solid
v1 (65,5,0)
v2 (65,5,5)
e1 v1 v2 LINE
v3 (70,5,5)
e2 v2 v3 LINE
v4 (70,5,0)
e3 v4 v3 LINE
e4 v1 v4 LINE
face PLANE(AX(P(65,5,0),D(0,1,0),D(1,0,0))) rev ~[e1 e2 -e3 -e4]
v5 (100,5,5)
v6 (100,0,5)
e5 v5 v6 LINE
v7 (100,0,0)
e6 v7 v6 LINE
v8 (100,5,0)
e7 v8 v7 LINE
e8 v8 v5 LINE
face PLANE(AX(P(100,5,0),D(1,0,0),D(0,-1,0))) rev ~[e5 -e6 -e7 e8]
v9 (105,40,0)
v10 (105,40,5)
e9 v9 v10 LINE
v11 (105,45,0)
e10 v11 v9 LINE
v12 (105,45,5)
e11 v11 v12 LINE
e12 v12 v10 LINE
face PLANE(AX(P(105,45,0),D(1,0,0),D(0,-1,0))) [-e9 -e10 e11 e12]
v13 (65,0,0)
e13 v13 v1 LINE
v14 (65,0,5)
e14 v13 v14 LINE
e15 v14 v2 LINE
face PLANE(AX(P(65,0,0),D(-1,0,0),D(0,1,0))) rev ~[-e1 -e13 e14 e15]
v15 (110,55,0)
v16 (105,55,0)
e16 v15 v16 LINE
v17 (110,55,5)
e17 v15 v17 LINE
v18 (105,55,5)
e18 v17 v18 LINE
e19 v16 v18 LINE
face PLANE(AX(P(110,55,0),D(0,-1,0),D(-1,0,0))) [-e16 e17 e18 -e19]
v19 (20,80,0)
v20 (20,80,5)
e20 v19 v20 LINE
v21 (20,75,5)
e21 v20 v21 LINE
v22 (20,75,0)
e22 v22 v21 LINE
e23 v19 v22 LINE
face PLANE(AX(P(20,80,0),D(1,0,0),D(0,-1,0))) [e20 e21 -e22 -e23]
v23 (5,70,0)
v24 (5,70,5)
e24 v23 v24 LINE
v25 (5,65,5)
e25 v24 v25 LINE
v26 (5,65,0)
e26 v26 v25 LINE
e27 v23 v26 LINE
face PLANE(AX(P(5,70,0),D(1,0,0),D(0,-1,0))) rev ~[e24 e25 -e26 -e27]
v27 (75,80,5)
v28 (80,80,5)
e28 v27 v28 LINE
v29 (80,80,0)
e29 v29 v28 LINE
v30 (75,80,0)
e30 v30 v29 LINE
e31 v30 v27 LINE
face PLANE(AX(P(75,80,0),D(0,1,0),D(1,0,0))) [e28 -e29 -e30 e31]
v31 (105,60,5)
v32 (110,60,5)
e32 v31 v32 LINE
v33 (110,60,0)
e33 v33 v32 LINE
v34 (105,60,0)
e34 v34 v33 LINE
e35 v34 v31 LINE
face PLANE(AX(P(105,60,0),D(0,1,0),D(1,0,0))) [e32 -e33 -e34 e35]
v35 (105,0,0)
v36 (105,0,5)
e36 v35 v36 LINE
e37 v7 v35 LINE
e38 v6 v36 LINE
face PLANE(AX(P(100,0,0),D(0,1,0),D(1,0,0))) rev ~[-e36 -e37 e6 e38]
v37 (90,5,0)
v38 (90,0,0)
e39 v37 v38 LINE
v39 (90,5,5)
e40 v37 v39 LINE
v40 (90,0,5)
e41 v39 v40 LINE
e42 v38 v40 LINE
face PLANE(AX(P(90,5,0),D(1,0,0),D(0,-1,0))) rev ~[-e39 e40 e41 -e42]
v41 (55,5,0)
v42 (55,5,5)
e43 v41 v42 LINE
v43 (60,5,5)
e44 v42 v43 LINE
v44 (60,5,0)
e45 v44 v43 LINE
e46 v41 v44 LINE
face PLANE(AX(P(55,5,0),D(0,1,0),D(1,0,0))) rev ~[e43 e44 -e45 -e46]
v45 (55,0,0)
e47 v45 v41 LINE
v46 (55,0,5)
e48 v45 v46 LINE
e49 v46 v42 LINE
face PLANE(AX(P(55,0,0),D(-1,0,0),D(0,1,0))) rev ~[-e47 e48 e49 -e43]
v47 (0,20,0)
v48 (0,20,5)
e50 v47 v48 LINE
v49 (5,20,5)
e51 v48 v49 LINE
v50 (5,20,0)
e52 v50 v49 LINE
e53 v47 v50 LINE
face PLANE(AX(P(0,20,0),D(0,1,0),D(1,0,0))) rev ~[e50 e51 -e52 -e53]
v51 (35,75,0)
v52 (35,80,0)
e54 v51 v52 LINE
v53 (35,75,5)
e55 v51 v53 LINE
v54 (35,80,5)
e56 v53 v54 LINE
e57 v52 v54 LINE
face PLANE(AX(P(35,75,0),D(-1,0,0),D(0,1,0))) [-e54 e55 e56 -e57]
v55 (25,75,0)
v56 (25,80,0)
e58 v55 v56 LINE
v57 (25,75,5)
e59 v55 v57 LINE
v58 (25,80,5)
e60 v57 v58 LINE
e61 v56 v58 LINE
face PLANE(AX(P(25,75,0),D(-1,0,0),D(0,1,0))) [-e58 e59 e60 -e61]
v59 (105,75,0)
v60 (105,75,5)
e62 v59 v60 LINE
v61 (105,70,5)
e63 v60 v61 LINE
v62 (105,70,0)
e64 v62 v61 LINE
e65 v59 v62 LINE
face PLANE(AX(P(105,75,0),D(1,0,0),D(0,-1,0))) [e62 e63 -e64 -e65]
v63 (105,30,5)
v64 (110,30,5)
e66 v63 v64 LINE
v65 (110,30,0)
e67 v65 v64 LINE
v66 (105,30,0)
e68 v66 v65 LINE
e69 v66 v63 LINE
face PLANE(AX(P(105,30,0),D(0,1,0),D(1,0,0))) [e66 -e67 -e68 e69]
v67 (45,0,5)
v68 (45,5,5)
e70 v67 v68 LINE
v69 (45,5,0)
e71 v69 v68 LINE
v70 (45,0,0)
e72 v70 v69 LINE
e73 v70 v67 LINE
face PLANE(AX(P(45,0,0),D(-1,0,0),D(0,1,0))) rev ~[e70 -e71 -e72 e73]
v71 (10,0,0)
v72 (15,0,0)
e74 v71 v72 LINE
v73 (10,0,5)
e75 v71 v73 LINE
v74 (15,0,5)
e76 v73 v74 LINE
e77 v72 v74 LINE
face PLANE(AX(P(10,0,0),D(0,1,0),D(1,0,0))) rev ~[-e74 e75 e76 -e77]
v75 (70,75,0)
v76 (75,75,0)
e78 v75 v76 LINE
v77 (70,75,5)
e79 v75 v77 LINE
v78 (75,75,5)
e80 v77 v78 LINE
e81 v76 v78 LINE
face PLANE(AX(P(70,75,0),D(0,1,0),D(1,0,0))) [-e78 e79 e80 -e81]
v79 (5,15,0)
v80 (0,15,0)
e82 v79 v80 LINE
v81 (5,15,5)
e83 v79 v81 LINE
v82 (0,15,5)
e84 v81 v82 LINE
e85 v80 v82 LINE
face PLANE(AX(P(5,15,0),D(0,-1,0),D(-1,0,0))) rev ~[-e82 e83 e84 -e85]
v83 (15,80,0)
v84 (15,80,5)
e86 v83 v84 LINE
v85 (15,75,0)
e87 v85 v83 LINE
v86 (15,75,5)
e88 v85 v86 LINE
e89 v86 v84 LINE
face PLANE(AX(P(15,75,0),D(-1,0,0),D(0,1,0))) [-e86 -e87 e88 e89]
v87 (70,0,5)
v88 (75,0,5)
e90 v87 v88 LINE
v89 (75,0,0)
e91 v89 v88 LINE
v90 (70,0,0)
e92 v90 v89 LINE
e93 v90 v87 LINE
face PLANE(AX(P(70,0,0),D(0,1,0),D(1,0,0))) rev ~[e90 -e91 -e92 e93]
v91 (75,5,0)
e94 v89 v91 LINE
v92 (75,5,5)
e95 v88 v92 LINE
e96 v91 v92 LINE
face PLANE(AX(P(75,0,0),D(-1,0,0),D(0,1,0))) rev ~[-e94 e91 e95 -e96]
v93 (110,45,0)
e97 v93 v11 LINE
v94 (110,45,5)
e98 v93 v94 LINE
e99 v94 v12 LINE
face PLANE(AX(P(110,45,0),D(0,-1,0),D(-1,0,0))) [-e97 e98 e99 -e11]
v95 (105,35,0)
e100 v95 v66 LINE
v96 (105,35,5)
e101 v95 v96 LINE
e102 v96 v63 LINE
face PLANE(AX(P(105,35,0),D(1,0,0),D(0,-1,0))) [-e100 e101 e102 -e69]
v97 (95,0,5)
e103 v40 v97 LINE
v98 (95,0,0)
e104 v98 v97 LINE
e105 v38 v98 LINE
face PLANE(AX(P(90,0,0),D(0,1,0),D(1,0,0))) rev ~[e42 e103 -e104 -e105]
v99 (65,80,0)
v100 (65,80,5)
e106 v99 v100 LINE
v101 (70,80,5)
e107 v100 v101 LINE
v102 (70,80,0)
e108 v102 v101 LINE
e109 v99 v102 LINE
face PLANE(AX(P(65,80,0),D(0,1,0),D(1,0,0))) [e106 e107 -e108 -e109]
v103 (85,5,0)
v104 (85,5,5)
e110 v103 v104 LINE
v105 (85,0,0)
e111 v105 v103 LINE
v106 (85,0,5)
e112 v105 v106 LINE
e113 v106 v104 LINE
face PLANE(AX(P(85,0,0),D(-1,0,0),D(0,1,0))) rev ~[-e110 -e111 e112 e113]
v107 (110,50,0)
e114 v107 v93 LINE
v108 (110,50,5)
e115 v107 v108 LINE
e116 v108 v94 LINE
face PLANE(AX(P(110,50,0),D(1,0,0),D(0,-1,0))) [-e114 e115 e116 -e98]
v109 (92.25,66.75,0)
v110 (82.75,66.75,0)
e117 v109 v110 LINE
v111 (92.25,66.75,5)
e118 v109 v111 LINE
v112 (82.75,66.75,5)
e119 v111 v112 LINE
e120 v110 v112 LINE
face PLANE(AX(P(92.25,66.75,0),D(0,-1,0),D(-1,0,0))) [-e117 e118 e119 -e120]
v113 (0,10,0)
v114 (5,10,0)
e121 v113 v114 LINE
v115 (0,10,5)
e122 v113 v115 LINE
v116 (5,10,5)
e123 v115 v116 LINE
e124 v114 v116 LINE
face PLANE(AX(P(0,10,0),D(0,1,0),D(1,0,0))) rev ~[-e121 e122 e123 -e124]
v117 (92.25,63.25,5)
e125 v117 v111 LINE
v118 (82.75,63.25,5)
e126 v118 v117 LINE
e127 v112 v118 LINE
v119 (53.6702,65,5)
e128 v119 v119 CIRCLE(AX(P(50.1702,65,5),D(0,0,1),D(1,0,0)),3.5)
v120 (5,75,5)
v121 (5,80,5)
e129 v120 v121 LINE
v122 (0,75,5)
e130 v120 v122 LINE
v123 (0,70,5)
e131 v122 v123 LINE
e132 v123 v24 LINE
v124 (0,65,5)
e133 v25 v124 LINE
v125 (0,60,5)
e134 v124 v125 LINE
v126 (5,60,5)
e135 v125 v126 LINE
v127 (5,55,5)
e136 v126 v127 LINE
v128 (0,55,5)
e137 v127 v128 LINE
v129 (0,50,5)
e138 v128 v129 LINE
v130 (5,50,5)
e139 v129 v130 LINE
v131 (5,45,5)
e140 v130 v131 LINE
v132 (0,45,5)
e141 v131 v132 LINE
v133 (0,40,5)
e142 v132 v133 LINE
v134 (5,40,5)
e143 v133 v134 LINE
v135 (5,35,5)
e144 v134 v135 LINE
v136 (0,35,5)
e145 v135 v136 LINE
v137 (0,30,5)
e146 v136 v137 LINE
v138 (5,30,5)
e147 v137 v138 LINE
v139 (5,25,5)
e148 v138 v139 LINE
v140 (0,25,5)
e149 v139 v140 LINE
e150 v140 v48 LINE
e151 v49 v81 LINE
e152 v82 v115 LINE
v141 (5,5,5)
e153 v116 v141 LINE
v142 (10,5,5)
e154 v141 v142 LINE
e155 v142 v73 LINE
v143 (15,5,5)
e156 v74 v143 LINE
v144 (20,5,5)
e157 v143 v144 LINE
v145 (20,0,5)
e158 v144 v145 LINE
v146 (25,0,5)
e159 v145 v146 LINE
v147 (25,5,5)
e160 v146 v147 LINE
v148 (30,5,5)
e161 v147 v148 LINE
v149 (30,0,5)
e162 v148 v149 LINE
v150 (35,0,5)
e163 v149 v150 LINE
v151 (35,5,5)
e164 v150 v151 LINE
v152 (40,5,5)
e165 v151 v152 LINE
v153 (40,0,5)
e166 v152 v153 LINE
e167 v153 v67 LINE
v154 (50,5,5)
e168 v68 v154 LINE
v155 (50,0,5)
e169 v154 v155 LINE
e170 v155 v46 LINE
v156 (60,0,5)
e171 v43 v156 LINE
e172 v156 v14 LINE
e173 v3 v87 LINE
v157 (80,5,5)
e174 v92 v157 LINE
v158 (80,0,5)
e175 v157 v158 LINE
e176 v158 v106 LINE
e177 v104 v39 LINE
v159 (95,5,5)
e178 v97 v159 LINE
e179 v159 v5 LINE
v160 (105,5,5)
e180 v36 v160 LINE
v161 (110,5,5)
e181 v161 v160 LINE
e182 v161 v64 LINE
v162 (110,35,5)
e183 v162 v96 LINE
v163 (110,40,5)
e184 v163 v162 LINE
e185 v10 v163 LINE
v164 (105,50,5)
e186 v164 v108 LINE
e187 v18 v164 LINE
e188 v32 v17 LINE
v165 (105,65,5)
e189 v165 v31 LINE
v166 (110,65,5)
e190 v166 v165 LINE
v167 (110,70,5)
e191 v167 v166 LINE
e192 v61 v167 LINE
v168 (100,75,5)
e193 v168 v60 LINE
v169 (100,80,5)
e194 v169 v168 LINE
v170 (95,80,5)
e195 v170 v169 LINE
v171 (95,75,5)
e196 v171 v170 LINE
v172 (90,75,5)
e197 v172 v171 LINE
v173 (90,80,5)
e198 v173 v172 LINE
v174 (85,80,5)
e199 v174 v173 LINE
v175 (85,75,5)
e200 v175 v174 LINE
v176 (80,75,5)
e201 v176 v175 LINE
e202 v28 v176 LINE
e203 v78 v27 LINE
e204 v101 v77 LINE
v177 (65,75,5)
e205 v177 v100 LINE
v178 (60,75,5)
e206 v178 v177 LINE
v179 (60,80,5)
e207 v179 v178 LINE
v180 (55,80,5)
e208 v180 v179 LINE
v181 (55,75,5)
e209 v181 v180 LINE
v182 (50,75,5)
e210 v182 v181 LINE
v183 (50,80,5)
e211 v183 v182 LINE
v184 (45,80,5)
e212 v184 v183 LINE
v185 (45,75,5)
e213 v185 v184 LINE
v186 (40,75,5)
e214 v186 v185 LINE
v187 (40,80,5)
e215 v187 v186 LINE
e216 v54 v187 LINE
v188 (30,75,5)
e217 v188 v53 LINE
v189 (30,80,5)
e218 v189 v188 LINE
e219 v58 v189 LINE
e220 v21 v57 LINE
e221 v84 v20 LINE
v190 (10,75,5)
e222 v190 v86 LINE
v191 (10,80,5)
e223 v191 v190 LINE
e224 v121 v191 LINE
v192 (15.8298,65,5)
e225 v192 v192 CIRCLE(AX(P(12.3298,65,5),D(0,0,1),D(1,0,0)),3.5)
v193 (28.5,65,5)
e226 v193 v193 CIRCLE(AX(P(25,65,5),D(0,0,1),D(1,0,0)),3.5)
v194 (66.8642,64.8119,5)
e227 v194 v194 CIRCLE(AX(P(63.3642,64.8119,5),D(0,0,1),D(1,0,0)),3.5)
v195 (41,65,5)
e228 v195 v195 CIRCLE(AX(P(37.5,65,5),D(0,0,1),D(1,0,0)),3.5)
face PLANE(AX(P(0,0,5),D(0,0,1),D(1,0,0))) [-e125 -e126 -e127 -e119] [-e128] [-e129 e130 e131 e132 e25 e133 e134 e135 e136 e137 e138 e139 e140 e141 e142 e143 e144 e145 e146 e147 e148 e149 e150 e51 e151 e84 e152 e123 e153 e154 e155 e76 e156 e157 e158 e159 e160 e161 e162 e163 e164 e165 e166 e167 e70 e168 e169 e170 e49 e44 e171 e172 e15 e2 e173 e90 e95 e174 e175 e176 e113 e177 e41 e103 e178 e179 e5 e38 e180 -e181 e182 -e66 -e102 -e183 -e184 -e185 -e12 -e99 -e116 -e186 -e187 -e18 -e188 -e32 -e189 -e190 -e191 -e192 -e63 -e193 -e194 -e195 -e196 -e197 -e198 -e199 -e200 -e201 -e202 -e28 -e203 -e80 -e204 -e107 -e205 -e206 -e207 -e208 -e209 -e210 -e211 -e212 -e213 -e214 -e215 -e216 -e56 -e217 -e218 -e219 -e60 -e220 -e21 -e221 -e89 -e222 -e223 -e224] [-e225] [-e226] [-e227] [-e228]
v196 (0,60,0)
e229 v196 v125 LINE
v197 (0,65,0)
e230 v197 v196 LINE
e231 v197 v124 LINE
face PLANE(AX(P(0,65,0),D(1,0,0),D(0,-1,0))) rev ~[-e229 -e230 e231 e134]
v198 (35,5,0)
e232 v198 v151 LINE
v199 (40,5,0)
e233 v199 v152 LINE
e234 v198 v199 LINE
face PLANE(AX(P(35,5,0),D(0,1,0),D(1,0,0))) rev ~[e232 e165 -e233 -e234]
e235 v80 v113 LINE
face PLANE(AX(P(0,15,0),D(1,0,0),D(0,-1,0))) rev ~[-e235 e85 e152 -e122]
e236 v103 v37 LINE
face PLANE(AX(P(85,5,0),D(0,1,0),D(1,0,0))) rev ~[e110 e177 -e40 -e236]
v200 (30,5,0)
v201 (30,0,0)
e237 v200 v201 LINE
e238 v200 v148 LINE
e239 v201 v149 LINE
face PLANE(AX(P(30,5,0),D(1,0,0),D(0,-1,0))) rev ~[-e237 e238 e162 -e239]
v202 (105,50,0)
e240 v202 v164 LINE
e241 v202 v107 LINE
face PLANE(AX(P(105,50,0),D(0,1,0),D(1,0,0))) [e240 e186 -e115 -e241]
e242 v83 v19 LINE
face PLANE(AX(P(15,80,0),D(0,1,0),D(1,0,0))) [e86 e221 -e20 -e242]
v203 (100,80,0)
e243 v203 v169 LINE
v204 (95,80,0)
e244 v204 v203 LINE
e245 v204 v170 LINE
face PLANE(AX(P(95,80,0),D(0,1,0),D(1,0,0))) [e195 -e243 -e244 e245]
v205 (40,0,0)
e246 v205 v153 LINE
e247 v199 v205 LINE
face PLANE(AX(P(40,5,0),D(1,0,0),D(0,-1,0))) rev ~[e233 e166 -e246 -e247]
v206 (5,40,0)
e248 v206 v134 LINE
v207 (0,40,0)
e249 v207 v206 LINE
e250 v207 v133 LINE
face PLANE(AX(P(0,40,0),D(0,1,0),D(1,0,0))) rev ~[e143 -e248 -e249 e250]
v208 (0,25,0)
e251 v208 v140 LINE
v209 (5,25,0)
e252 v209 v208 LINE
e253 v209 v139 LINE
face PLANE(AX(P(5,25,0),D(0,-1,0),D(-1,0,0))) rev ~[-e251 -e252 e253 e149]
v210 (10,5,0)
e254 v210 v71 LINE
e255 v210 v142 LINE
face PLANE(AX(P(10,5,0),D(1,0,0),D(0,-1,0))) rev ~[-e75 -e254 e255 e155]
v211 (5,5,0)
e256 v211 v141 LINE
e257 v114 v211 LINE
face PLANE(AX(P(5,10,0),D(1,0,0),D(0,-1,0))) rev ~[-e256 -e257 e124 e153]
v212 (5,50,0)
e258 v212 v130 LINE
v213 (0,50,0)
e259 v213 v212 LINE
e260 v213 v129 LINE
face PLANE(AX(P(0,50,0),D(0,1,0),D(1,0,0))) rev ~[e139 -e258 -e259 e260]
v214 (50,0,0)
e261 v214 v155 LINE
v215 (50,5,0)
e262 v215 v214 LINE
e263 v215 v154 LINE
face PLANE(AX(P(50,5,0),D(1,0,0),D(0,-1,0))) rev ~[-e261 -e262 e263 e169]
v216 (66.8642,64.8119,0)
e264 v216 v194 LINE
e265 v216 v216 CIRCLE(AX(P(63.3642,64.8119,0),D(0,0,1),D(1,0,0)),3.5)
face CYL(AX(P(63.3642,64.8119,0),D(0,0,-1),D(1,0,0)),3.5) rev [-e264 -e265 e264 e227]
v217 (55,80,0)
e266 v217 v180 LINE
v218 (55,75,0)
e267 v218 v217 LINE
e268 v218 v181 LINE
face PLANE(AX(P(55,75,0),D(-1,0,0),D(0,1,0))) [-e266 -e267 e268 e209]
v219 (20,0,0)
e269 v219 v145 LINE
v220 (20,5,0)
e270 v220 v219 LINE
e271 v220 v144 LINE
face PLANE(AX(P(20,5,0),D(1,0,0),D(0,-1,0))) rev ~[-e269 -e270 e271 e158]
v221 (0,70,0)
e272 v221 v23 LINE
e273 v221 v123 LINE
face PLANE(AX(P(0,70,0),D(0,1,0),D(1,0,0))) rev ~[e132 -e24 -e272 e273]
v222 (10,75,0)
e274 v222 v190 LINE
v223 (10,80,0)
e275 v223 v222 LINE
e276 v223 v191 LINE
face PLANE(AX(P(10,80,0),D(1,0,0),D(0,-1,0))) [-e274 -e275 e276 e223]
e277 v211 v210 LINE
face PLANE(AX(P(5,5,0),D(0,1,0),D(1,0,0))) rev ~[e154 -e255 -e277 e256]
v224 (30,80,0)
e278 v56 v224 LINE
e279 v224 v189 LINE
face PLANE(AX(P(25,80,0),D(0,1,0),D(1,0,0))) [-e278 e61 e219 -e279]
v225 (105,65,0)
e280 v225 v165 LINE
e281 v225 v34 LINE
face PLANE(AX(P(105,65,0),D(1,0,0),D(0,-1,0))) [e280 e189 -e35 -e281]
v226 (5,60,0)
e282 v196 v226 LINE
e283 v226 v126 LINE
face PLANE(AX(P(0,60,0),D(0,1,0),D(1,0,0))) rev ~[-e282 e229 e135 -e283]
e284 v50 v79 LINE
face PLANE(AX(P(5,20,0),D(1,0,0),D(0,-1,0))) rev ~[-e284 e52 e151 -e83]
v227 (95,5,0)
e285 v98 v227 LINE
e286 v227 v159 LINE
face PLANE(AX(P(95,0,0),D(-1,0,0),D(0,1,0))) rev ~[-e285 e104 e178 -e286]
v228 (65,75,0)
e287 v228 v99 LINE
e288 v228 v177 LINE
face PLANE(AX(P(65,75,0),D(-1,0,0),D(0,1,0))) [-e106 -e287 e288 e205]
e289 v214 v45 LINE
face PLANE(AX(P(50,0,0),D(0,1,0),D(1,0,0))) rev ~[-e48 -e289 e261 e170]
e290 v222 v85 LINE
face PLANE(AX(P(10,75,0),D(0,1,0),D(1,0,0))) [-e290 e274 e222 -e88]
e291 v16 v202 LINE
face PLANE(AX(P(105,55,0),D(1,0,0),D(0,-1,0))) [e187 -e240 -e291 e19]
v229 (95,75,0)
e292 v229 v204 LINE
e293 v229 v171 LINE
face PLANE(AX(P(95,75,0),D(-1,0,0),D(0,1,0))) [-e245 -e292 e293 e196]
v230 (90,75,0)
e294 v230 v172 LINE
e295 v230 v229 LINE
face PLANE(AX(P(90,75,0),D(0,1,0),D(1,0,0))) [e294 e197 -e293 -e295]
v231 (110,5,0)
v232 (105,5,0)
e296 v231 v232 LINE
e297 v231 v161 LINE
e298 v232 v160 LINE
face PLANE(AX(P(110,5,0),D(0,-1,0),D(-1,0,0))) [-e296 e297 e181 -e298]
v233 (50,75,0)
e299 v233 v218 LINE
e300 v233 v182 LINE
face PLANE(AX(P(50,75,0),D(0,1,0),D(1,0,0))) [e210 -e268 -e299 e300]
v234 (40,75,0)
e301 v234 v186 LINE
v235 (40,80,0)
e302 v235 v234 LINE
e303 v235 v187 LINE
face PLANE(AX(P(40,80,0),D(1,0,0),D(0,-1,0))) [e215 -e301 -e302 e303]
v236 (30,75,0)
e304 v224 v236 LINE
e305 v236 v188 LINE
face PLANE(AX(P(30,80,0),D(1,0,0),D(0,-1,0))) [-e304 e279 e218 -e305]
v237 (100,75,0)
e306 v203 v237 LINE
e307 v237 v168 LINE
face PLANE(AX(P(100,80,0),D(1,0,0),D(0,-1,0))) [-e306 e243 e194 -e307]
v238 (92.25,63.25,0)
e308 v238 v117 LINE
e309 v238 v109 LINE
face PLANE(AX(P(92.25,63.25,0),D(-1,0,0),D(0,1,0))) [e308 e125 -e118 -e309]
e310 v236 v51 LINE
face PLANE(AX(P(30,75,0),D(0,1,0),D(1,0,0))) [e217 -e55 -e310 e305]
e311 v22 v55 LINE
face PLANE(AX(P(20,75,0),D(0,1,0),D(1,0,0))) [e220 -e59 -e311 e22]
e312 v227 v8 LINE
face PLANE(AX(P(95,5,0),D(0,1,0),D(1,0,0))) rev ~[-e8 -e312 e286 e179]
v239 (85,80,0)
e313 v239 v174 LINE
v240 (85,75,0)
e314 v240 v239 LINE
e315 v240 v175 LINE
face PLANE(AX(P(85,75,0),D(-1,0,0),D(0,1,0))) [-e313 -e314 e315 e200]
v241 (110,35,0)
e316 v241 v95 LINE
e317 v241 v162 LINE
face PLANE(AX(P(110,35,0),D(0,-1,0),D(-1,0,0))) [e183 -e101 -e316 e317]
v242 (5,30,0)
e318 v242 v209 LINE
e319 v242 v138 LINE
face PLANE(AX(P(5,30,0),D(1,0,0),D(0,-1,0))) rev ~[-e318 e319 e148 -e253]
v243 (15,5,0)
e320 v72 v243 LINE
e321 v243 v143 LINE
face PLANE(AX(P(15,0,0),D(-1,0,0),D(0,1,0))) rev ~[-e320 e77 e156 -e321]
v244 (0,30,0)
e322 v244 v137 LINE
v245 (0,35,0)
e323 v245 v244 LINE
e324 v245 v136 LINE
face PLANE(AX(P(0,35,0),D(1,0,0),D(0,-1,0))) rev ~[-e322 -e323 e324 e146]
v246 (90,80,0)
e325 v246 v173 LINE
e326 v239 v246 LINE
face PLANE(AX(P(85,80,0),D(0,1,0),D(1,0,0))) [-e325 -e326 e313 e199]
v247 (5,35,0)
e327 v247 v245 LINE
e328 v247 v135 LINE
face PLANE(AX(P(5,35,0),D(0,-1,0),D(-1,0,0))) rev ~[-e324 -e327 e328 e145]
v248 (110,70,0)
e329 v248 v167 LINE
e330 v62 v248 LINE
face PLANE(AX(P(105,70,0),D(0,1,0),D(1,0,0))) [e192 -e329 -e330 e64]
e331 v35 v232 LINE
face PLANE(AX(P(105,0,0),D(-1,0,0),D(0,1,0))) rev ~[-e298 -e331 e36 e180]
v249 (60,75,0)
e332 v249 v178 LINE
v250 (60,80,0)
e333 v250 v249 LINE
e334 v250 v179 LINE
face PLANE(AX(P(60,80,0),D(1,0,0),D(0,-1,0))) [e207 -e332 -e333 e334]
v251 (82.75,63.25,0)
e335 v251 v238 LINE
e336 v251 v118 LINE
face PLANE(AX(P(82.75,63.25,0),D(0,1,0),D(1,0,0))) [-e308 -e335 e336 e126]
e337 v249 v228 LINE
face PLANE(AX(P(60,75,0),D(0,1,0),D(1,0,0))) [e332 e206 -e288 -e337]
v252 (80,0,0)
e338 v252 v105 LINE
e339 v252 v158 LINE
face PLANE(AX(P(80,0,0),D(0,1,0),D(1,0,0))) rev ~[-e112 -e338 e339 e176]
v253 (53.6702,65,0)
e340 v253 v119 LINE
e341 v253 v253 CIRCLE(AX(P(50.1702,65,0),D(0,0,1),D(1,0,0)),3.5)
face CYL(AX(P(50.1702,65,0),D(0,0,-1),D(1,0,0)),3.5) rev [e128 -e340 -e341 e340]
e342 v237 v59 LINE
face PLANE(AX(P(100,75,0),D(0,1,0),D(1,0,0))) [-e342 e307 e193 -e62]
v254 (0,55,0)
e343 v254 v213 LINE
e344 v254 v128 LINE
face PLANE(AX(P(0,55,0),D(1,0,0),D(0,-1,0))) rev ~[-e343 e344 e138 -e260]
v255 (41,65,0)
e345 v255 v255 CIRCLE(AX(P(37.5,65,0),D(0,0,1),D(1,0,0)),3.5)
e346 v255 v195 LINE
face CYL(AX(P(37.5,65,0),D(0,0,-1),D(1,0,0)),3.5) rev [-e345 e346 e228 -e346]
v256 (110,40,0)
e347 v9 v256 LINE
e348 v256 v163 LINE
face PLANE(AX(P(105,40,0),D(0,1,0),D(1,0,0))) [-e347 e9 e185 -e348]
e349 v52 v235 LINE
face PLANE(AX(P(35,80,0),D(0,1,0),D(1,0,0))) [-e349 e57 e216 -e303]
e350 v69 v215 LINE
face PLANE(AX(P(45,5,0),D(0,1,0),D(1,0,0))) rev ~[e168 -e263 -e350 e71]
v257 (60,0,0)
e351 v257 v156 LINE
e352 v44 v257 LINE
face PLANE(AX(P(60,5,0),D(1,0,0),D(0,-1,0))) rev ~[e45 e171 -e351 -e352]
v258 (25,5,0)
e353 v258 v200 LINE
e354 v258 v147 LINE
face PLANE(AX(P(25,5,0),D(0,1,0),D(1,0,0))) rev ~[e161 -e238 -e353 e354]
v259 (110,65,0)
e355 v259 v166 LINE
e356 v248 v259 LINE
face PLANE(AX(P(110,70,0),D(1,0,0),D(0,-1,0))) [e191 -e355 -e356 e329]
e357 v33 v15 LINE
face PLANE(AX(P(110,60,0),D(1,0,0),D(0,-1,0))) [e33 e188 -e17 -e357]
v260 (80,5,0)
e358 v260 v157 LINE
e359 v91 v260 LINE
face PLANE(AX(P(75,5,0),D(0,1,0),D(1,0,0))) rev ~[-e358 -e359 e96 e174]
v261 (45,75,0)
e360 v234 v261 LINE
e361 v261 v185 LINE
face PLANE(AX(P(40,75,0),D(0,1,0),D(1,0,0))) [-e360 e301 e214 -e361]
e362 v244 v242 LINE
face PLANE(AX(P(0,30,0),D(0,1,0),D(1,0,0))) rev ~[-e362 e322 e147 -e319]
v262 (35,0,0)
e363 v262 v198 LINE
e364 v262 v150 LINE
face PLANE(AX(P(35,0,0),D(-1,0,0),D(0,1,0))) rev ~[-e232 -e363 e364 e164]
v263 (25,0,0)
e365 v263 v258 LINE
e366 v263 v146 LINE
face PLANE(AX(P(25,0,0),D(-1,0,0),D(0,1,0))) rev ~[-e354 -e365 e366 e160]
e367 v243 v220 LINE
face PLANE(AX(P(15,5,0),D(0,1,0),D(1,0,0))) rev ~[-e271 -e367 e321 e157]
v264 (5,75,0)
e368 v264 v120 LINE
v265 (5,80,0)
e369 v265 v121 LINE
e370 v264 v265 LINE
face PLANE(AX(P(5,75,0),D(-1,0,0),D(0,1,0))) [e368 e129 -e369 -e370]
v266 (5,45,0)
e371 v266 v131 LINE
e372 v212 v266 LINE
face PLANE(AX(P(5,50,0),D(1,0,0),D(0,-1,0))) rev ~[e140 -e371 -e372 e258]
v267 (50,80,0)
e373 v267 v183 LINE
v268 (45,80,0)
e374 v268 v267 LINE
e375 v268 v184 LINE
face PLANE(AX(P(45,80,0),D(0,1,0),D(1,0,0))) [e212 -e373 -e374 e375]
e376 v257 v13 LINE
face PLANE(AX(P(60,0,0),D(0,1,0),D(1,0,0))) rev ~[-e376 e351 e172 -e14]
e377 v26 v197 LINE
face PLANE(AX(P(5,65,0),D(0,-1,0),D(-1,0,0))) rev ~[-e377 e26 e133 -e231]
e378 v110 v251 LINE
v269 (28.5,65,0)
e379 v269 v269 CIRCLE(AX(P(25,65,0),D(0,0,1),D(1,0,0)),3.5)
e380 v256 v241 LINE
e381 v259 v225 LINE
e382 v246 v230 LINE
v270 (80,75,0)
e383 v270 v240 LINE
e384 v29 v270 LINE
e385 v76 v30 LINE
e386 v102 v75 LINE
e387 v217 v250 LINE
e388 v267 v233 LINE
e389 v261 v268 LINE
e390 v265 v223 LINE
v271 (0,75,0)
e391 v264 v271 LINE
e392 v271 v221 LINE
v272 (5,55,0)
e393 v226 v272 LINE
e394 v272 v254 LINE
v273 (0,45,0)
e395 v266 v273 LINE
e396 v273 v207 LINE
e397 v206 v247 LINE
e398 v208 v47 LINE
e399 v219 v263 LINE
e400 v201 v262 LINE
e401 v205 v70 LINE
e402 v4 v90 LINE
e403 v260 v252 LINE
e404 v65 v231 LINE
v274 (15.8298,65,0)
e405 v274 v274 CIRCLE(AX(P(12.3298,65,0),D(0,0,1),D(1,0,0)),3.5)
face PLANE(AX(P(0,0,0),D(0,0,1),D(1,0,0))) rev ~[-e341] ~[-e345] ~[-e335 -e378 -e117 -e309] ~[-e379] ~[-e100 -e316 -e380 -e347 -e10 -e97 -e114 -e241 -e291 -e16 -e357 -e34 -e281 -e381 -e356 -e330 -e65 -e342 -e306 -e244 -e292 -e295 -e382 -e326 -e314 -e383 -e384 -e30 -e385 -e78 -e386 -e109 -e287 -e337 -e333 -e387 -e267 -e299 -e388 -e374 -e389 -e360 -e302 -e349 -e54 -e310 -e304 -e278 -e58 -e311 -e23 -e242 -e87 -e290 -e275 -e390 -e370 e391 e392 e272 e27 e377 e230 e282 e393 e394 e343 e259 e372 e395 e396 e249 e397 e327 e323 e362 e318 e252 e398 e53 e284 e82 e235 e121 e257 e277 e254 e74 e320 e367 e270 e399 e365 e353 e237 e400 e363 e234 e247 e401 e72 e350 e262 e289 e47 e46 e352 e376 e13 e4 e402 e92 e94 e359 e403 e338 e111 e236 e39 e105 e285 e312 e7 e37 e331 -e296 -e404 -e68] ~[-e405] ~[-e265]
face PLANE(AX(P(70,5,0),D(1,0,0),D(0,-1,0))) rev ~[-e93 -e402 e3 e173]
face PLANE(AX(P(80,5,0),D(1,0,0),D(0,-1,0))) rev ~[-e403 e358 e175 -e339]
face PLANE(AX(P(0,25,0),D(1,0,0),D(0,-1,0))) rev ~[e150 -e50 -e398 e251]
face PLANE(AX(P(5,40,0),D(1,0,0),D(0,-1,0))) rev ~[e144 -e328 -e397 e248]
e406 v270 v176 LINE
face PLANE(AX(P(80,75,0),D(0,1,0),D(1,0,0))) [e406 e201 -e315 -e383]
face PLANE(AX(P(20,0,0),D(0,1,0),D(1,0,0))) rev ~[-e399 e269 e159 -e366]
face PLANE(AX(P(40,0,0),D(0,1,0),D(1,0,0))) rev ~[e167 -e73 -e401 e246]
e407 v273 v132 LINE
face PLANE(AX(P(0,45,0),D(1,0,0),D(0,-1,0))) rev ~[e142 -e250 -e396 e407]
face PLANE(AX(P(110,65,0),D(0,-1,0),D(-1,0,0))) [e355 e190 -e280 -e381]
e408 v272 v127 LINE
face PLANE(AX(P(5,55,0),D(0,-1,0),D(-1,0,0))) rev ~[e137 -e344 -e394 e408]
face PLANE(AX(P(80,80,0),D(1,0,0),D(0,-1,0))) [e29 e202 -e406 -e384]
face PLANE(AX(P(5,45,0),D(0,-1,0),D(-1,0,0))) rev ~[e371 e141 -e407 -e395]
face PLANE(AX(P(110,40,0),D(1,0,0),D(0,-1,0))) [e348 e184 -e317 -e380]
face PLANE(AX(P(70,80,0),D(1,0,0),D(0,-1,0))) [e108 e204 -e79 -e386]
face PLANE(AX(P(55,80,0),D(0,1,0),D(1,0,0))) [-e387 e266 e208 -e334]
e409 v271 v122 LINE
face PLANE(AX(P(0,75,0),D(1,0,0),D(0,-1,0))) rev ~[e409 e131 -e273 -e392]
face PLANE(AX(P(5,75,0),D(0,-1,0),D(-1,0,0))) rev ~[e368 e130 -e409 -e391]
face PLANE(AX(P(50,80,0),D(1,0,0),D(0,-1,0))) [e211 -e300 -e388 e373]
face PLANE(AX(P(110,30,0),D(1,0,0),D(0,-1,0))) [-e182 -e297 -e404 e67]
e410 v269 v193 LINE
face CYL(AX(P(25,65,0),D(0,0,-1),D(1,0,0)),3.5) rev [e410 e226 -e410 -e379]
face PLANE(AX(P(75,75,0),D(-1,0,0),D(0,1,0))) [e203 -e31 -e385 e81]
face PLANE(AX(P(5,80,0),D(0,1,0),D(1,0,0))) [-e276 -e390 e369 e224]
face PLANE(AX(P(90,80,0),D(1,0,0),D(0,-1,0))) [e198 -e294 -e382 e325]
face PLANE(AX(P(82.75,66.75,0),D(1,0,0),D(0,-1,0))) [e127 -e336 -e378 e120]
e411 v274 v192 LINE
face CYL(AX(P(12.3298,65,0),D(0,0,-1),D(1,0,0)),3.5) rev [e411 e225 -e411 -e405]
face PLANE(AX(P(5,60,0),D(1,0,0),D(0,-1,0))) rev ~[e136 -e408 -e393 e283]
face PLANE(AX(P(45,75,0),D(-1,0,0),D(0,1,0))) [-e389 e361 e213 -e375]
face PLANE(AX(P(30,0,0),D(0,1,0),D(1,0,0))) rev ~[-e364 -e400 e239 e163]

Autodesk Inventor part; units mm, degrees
ref_plane "YZ Plane" through (0, 0, 0) normal (1, 0, 0) x (0, 1, 0)
ref_plane "XZ Plane" through (0, 0, 0) normal (0, 1, 0) x (-1, 0, 0)
ref_plane "XY Plane" through (0, 0, 0) normal (0, 0, 1) x (1, 0, 0)
sketch "Sketch2" plane through (0, 0, 0) normal (0, 0, 1) x (1, 0, 0)
  line L0 (0, 0) -> (5, 0)
  line L1 (5, 0) -> (5, 5)
  line L2 (5, 5) -> (0, 5)
  line L3 (0, 5) -> (0, 0)
  line L4 (5, 5) -> (105, 5)
  line L5 (5, 55) -> (5, 5)
  line L6 (15, 5) -> (10, 5)
  line L7 (10, 0) -> (15, 0)
  line L8 (15, 0) -> (15, 5)
  line L9 (10, 5) -> (10, 0)
  line L10 (25, 5) -> (20, 5)
  line L11 (20, 0) -> (25, 0)
  line L12 (25, 0) -> (25, 5)
  line L13 (20, 5) -> (20, 0)
  line L14 (35, 5) -> (30, 5)
  line L15 (30, 0) -> (35, 0)
  line L16 (35, 0) -> (35, 5)
  line L17 (30, 5) -> (30, 0)
  line L18 (45, 5) -> (40, 5)
  line L19 (40, 0) -> (45, 0)
  line L20 (45, 0) -> (45, 5)
  line L21 (40, 5) -> (40, 0)
  line L22 (55, 5) -> (50, 5)
  line L23 (50, 0) -> (55, 0)
  line L24 (55, 0) -> (55, 5)
  line L25 (50, 5) -> (50, 0)
  line L26 (65, 5) -> (60, 5)
  line L27 (60, 0) -> (65, 0)
  line L28 (65, 0) -> (65, 5)
  line L29 (60, 5) -> (60, 0)
  line L30 (75, 5) -> (70, 5)
  line L31 (70, 0) -> (75, 0)
  line L32 (75, 0) -> (75, 5)
  line L33 (70, 5) -> (70, 0)
  line L34 (85, 5) -> (80, 5)
  line L35 (80, 0) -> (85, 0)
  line L36 (85, 0) -> (85, 5)
  line L37 (80, 5) -> (80, 0)
  line L38 (95, 5) -> (90, 5)
  line L39 (90, 0) -> (95, 0)
  line L40 (95, 0) -> (95, 5)
  line L41 (90, 5) -> (90, 0)
  line L42 (105, 5) -> (100, 5)
  line L43 (100, 0) -> (105, 0)
  line L44 (105, 0) -> (105, 5)
  line L45 (100, 5) -> (100, 0)
  circle A0 centre (12.3298, 65) radius 3.5
  line L46 (6.3298, 40) -> (18.3298, 40)
  line L47 (18.3298, 40) -> (18.3298, 70)
  line L48 (18.3298, 70) -> (6.3298, 70)
  line L49 (6.3298, 70) -> (6.3298, 40)
  line L50 (6.3298, 40) -> (18.3298, 70) construction
  line L51 (18.3298, 40) -> (6.3298, 70) construction
  line L52 (19, 40) -> (31, 40)
  circle A1 centre (25, 65) radius 3.5
  line L53 (19, 70) -> (19, 40)
  line L54 (31, 40) -> (31, 70)
  line L55 (19, 40) -> (31, 70) construction
  line L56 (31, 40) -> (19, 70) construction
  line L57 (31, 70) -> (19, 70)
  line L58 (31.5, 40) -> (43.5, 40)
  circle A2 centre (37.5, 65) radius 3.5
  line L59 (31.5, 70) -> (31.5, 40)
  line L60 (43.5, 40) -> (43.5, 70)
  line L61 (31.5, 40) -> (43.5, 70) construction
  line L62 (43.5, 40) -> (31.5, 70) construction
  line L63 (43.5, 70) -> (31.5, 70)
  line L64 (44.1702, 70) -> (44.1702, 40)
  line L65 (56.1702, 40) -> (56.1702, 70)
  line L66 (56.1702, 40) -> (44.1702, 70) construction
  line L67 (44.1702, 40) -> (56.1702, 70) construction
  line L68 (56.1702, 70) -> (44.1702, 70)
  circle A3 centre (50.1702, 65) radius 3.5
  line L69 (44.1702, 40) -> (56.1702, 40)
  line L70 (57.3642, 39.8119) -> (69.3642, 39.8119)
  line L71 (57.3642, 69.8119) -> (57.3642, 39.8119)
  line L72 (69.3642, 69.8119) -> (57.3642, 69.8119)
  line L73 (57.3642, 39.8119) -> (69.3642, 69.8119) construction
  line L74 (69.3642, 39.8119) -> (57.3642, 69.8119) construction
  line L75 (69.3642, 39.8119) -> (69.3642, 69.8119)
  circle A4 centre (63.3642, 64.8119) radius 3.5
  line L76 (75, 40) -> (100, 40)
  line L77 (100, 40) -> (100, 70)
  line L78 (100, 70) -> (75, 70)
  line L79 (75, 70) -> (75, 40)
  line L80 (75, 40) -> (100, 70) construction
  line L81 (100, 40) -> (75, 70) construction
  line L82 (82.75, 63.25) -> (92.25, 63.25)
  line L83 (92.25, 63.25) -> (92.25, 66.75)
  line L84 (92.25, 66.75) -> (82.75, 66.75)
  line L85 (82.75, 66.75) -> (82.75, 63.25)
  line L86 (82.75, 63.25) -> (92.25, 66.75) construction
  line L87 (92.25, 63.25) -> (82.75, 66.75) construction
  line L88 (5, 75) -> (105, 75)
  line L89 (105, 75) -> (105, 5)
  line L90 (5, 75) -> (5, 55)
  line L91 (105, 80) -> (110, 80)
  line L92 (110, 80) -> (110, 75)
  line L93 (110, 75) -> (105, 75)
  line L94 (105, 75) -> (105, 80)
  line L95 (105, 65) -> (105, 70)
  line L96 (110, 65) -> (105, 65)
  line L97 (110, 70) -> (110, 65)
  line L98 (105, 70) -> (110, 70)
  line L99 (105, 55) -> (105, 60)
  line L100 (110, 55) -> (105, 55)
  line L101 (110, 60) -> (110, 55)
  line L102 (105, 60) -> (110, 60)
  line L103 (105, 45) -> (105, 50)
  line L104 (110, 45) -> (105, 45)
  line L105 (110, 50) -> (110, 45)
  line L106 (105, 50) -> (110, 50)
  line L107 (105, 35) -> (105, 40)
  line L108 (110, 35) -> (105, 35)
  line L109 (110, 40) -> (110, 35)
  line L110 (105, 40) -> (110, 40)
  line L111 (105, 25) -> (105, 30)
  line L112 (110, 25) -> (105, 25)
  line L113 (110, 30) -> (110, 25)
  line L114 (105, 30) -> (110, 30)
  line L115 (105, 15) -> (105, 20)
  line L116 (110, 15) -> (105, 15)
  line L117 (110, 20) -> (110, 15)
  line L118 (105, 20) -> (110, 20)
  line L119 (105, 5) -> (105, 10)
  line L120 (110, 5) -> (105, 5)
  line L121 (110, 10) -> (110, 5)
  line L122 (105, 10) -> (110, 10)
  line L123 (95, 80) -> (100, 80)
  line L124 (100, 80) -> (100, 75)
  line L125 (95, 75) -> (95, 80)
  line L126 (100, 75) -> (95, 75)
  line L127 (85, 80) -> (90, 80)
  line L128 (90, 80) -> (90, 75)
  line L129 (85, 75) -> (85, 80)
  line L130 (90, 75) -> (85, 75)
  line L131 (75, 80) -> (80, 80)
  line L132 (80, 80) -> (80, 75)
  line L133 (75, 75) -> (75, 80)
  line L134 (80, 75) -> (75, 75)
  line L135 (65, 80) -> (70, 80)
  line L136 (70, 80) -> (70, 75)
  line L137 (65, 75) -> (65, 80)
  line L138 (70, 75) -> (65, 75)
  line L139 (55, 80) -> (60, 80)
  line L140 (60, 80) -> (60, 75)
  line L141 (55, 75) -> (55, 80)
  line L142 (60, 75) -> (55, 75)
  line L143 (45, 80) -> (50, 80)
  line L144 (50, 80) -> (50, 75)
  line L145 (45, 75) -> (45, 80)
  line L146 (50, 75) -> (45, 75)
  line L147 (35, 80) -> (40, 80)
  line L148 (40, 80) -> (40, 75)
  line L149 (35, 75) -> (35, 80)
  line L150 (40, 75) -> (35, 75)
  line L151 (25, 80) -> (30, 80)
  line L152 (30, 80) -> (30, 75)
  line L153 (25, 75) -> (25, 80)
  line L154 (30, 75) -> (25, 75)
  line L155 (15, 80) -> (20, 80)
  line L156 (20, 80) -> (20, 75)
  line L157 (15, 75) -> (15, 80)
  line L158 (20, 75) -> (15, 75)
  line L159 (5, 80) -> (10, 80)
  line L160 (10, 80) -> (10, 75)
  line L161 (5, 75) -> (5, 80)
  line L162 (10, 75) -> (5, 75)
  line L163 (0, 10) -> (5, 10)
  line L164 (5, 10) -> (5, 15)
  line L165 (5, 15) -> (0, 15)
  line L166 (0, 15) -> (0, 10)
  line L167 (0, 20) -> (5, 20)
  line L168 (5, 20) -> (5, 25)
  line L169 (5, 25) -> (0, 25)
  line L170 (0, 25) -> (0, 20)
  line L171 (0, 30) -> (5, 30)
  line L172 (5, 30) -> (5, 35)
  line L173 (5, 35) -> (0, 35)
  line L174 (0, 35) -> (0, 30)
  line L175 (0, 40) -> (5, 40)
  line L176 (5, 40) -> (5, 45)
  line L177 (5, 45) -> (0, 45)
  line L178 (0, 45) -> (0, 40)
  line L179 (0, 50) -> (5, 50)
  line L180 (5, 50) -> (5, 55)
  line L181 (5, 55) -> (0, 55)
  line L182 (0, 55) -> (0, 50)
  line L183 (0, 60) -> (5, 60)
  line L184 (5, 60) -> (5, 65)
  line L185 (5, 65) -> (0, 65)
  line L186 (0, 65) -> (0, 60)
  line L187 (0, 70) -> (5, 70)
  line L188 (5, 70) -> (5, 75)
  line L189 (5, 75) -> (0, 75)
  line L190 (0, 75) -> (0, 70)
  line L191 (100, 10) -> (25, 10)
  line L192 (25, 10) -> (25, 35)
  line L193 (25, 35) -> (100, 35)
  line L194 (100, 35) -> (100, 10)
  line L195 (105, 35) -> (110, 35)
  line L196 (110, 35) -> (110, 5)
  line L197 (110, 5) -> (105, 5)
  line L198 (105, 5) -> (105, 35)
  point P0 (87.5, 55)
  point P1 (87.5, 65)
  dimension "d0" = 5
  dimension "d1" = 5
  dimension "d29" = 10
  dimension "d37" = 7
  dimension "d38" = 12
  dimension "d39" = 30
  dimension "d51" = 7
  dimension "d52" = 12
  dimension "d53" = 30
  dimension "d54" = 7
  dimension "d55" = 12
  dimension "d56" = 30
  dimension "d57" = 7
  dimension "d58" = 12
  dimension "d59" = 30
  dimension "d60" = 7
  dimension "d61" = 12
  dimension "d62" = 30
  dimension "d63" = 25
  dimension "d64" = 30
  dimension "d65" = 9.5
  dimension "d66" = 3.5
  dimension "d71" = 10
  dimension "d78" = 10
  dimension "d85" = 10
extrude "Extrusion2" add sketch "Sketch2" along normal blind 5 contours L5 L90 L88 L89 L4 | L4 L8 L7 L9 | L163 L166 L165 L5 | L4 L12 L11 L13 | L167 L170 L169 L5 | L4 L16 L15 L17 | L171 L174 L173 L5 | L4 L20 L19 L21 | L175 L178 L177 L5 | L4 L24 L23 L25 | L179 L182 L181 L5 | L4 L28 L27 L29 | L183 L186 L185 L90 | L4 L32 L31 L33 | L187 L190 L189 L90 | L161 L159 L160 L88 | L4 L36 L35 L37 | L157 L155 L156 L88 | L4 L40 L39 L41 | L153 L151 L152 L88 | L4 L44 L43 L45 | L89 L122 L121 L120 | L149 L147 L148 L88 | L89 L116 L196 L122 | L89 L118 L117 L116 | L145 L143 L144 L88 | L89 L112 L196 L118 | L89 L114 L113 L112 | L141 L139 L140 L88 | L89 L110 L109 L108 | L137 L135 L136 L88 | L89 L106 L105 L104 | L133 L131 L132 L88 | L89 L102 L101 L100 | L129 L127 L128 L88 | L89 L98 L97 L96 | L125 L123 L124 L88 | L49 L48 L47 L46 | L53 L57 L54 L52 | L59 L63 L60 L58 | L68 L65 L69 L64 | L71 L72 L75 L70 | L79 L78 L77 L76 | L191 L192 L193 L194
properties part number "frontside"
